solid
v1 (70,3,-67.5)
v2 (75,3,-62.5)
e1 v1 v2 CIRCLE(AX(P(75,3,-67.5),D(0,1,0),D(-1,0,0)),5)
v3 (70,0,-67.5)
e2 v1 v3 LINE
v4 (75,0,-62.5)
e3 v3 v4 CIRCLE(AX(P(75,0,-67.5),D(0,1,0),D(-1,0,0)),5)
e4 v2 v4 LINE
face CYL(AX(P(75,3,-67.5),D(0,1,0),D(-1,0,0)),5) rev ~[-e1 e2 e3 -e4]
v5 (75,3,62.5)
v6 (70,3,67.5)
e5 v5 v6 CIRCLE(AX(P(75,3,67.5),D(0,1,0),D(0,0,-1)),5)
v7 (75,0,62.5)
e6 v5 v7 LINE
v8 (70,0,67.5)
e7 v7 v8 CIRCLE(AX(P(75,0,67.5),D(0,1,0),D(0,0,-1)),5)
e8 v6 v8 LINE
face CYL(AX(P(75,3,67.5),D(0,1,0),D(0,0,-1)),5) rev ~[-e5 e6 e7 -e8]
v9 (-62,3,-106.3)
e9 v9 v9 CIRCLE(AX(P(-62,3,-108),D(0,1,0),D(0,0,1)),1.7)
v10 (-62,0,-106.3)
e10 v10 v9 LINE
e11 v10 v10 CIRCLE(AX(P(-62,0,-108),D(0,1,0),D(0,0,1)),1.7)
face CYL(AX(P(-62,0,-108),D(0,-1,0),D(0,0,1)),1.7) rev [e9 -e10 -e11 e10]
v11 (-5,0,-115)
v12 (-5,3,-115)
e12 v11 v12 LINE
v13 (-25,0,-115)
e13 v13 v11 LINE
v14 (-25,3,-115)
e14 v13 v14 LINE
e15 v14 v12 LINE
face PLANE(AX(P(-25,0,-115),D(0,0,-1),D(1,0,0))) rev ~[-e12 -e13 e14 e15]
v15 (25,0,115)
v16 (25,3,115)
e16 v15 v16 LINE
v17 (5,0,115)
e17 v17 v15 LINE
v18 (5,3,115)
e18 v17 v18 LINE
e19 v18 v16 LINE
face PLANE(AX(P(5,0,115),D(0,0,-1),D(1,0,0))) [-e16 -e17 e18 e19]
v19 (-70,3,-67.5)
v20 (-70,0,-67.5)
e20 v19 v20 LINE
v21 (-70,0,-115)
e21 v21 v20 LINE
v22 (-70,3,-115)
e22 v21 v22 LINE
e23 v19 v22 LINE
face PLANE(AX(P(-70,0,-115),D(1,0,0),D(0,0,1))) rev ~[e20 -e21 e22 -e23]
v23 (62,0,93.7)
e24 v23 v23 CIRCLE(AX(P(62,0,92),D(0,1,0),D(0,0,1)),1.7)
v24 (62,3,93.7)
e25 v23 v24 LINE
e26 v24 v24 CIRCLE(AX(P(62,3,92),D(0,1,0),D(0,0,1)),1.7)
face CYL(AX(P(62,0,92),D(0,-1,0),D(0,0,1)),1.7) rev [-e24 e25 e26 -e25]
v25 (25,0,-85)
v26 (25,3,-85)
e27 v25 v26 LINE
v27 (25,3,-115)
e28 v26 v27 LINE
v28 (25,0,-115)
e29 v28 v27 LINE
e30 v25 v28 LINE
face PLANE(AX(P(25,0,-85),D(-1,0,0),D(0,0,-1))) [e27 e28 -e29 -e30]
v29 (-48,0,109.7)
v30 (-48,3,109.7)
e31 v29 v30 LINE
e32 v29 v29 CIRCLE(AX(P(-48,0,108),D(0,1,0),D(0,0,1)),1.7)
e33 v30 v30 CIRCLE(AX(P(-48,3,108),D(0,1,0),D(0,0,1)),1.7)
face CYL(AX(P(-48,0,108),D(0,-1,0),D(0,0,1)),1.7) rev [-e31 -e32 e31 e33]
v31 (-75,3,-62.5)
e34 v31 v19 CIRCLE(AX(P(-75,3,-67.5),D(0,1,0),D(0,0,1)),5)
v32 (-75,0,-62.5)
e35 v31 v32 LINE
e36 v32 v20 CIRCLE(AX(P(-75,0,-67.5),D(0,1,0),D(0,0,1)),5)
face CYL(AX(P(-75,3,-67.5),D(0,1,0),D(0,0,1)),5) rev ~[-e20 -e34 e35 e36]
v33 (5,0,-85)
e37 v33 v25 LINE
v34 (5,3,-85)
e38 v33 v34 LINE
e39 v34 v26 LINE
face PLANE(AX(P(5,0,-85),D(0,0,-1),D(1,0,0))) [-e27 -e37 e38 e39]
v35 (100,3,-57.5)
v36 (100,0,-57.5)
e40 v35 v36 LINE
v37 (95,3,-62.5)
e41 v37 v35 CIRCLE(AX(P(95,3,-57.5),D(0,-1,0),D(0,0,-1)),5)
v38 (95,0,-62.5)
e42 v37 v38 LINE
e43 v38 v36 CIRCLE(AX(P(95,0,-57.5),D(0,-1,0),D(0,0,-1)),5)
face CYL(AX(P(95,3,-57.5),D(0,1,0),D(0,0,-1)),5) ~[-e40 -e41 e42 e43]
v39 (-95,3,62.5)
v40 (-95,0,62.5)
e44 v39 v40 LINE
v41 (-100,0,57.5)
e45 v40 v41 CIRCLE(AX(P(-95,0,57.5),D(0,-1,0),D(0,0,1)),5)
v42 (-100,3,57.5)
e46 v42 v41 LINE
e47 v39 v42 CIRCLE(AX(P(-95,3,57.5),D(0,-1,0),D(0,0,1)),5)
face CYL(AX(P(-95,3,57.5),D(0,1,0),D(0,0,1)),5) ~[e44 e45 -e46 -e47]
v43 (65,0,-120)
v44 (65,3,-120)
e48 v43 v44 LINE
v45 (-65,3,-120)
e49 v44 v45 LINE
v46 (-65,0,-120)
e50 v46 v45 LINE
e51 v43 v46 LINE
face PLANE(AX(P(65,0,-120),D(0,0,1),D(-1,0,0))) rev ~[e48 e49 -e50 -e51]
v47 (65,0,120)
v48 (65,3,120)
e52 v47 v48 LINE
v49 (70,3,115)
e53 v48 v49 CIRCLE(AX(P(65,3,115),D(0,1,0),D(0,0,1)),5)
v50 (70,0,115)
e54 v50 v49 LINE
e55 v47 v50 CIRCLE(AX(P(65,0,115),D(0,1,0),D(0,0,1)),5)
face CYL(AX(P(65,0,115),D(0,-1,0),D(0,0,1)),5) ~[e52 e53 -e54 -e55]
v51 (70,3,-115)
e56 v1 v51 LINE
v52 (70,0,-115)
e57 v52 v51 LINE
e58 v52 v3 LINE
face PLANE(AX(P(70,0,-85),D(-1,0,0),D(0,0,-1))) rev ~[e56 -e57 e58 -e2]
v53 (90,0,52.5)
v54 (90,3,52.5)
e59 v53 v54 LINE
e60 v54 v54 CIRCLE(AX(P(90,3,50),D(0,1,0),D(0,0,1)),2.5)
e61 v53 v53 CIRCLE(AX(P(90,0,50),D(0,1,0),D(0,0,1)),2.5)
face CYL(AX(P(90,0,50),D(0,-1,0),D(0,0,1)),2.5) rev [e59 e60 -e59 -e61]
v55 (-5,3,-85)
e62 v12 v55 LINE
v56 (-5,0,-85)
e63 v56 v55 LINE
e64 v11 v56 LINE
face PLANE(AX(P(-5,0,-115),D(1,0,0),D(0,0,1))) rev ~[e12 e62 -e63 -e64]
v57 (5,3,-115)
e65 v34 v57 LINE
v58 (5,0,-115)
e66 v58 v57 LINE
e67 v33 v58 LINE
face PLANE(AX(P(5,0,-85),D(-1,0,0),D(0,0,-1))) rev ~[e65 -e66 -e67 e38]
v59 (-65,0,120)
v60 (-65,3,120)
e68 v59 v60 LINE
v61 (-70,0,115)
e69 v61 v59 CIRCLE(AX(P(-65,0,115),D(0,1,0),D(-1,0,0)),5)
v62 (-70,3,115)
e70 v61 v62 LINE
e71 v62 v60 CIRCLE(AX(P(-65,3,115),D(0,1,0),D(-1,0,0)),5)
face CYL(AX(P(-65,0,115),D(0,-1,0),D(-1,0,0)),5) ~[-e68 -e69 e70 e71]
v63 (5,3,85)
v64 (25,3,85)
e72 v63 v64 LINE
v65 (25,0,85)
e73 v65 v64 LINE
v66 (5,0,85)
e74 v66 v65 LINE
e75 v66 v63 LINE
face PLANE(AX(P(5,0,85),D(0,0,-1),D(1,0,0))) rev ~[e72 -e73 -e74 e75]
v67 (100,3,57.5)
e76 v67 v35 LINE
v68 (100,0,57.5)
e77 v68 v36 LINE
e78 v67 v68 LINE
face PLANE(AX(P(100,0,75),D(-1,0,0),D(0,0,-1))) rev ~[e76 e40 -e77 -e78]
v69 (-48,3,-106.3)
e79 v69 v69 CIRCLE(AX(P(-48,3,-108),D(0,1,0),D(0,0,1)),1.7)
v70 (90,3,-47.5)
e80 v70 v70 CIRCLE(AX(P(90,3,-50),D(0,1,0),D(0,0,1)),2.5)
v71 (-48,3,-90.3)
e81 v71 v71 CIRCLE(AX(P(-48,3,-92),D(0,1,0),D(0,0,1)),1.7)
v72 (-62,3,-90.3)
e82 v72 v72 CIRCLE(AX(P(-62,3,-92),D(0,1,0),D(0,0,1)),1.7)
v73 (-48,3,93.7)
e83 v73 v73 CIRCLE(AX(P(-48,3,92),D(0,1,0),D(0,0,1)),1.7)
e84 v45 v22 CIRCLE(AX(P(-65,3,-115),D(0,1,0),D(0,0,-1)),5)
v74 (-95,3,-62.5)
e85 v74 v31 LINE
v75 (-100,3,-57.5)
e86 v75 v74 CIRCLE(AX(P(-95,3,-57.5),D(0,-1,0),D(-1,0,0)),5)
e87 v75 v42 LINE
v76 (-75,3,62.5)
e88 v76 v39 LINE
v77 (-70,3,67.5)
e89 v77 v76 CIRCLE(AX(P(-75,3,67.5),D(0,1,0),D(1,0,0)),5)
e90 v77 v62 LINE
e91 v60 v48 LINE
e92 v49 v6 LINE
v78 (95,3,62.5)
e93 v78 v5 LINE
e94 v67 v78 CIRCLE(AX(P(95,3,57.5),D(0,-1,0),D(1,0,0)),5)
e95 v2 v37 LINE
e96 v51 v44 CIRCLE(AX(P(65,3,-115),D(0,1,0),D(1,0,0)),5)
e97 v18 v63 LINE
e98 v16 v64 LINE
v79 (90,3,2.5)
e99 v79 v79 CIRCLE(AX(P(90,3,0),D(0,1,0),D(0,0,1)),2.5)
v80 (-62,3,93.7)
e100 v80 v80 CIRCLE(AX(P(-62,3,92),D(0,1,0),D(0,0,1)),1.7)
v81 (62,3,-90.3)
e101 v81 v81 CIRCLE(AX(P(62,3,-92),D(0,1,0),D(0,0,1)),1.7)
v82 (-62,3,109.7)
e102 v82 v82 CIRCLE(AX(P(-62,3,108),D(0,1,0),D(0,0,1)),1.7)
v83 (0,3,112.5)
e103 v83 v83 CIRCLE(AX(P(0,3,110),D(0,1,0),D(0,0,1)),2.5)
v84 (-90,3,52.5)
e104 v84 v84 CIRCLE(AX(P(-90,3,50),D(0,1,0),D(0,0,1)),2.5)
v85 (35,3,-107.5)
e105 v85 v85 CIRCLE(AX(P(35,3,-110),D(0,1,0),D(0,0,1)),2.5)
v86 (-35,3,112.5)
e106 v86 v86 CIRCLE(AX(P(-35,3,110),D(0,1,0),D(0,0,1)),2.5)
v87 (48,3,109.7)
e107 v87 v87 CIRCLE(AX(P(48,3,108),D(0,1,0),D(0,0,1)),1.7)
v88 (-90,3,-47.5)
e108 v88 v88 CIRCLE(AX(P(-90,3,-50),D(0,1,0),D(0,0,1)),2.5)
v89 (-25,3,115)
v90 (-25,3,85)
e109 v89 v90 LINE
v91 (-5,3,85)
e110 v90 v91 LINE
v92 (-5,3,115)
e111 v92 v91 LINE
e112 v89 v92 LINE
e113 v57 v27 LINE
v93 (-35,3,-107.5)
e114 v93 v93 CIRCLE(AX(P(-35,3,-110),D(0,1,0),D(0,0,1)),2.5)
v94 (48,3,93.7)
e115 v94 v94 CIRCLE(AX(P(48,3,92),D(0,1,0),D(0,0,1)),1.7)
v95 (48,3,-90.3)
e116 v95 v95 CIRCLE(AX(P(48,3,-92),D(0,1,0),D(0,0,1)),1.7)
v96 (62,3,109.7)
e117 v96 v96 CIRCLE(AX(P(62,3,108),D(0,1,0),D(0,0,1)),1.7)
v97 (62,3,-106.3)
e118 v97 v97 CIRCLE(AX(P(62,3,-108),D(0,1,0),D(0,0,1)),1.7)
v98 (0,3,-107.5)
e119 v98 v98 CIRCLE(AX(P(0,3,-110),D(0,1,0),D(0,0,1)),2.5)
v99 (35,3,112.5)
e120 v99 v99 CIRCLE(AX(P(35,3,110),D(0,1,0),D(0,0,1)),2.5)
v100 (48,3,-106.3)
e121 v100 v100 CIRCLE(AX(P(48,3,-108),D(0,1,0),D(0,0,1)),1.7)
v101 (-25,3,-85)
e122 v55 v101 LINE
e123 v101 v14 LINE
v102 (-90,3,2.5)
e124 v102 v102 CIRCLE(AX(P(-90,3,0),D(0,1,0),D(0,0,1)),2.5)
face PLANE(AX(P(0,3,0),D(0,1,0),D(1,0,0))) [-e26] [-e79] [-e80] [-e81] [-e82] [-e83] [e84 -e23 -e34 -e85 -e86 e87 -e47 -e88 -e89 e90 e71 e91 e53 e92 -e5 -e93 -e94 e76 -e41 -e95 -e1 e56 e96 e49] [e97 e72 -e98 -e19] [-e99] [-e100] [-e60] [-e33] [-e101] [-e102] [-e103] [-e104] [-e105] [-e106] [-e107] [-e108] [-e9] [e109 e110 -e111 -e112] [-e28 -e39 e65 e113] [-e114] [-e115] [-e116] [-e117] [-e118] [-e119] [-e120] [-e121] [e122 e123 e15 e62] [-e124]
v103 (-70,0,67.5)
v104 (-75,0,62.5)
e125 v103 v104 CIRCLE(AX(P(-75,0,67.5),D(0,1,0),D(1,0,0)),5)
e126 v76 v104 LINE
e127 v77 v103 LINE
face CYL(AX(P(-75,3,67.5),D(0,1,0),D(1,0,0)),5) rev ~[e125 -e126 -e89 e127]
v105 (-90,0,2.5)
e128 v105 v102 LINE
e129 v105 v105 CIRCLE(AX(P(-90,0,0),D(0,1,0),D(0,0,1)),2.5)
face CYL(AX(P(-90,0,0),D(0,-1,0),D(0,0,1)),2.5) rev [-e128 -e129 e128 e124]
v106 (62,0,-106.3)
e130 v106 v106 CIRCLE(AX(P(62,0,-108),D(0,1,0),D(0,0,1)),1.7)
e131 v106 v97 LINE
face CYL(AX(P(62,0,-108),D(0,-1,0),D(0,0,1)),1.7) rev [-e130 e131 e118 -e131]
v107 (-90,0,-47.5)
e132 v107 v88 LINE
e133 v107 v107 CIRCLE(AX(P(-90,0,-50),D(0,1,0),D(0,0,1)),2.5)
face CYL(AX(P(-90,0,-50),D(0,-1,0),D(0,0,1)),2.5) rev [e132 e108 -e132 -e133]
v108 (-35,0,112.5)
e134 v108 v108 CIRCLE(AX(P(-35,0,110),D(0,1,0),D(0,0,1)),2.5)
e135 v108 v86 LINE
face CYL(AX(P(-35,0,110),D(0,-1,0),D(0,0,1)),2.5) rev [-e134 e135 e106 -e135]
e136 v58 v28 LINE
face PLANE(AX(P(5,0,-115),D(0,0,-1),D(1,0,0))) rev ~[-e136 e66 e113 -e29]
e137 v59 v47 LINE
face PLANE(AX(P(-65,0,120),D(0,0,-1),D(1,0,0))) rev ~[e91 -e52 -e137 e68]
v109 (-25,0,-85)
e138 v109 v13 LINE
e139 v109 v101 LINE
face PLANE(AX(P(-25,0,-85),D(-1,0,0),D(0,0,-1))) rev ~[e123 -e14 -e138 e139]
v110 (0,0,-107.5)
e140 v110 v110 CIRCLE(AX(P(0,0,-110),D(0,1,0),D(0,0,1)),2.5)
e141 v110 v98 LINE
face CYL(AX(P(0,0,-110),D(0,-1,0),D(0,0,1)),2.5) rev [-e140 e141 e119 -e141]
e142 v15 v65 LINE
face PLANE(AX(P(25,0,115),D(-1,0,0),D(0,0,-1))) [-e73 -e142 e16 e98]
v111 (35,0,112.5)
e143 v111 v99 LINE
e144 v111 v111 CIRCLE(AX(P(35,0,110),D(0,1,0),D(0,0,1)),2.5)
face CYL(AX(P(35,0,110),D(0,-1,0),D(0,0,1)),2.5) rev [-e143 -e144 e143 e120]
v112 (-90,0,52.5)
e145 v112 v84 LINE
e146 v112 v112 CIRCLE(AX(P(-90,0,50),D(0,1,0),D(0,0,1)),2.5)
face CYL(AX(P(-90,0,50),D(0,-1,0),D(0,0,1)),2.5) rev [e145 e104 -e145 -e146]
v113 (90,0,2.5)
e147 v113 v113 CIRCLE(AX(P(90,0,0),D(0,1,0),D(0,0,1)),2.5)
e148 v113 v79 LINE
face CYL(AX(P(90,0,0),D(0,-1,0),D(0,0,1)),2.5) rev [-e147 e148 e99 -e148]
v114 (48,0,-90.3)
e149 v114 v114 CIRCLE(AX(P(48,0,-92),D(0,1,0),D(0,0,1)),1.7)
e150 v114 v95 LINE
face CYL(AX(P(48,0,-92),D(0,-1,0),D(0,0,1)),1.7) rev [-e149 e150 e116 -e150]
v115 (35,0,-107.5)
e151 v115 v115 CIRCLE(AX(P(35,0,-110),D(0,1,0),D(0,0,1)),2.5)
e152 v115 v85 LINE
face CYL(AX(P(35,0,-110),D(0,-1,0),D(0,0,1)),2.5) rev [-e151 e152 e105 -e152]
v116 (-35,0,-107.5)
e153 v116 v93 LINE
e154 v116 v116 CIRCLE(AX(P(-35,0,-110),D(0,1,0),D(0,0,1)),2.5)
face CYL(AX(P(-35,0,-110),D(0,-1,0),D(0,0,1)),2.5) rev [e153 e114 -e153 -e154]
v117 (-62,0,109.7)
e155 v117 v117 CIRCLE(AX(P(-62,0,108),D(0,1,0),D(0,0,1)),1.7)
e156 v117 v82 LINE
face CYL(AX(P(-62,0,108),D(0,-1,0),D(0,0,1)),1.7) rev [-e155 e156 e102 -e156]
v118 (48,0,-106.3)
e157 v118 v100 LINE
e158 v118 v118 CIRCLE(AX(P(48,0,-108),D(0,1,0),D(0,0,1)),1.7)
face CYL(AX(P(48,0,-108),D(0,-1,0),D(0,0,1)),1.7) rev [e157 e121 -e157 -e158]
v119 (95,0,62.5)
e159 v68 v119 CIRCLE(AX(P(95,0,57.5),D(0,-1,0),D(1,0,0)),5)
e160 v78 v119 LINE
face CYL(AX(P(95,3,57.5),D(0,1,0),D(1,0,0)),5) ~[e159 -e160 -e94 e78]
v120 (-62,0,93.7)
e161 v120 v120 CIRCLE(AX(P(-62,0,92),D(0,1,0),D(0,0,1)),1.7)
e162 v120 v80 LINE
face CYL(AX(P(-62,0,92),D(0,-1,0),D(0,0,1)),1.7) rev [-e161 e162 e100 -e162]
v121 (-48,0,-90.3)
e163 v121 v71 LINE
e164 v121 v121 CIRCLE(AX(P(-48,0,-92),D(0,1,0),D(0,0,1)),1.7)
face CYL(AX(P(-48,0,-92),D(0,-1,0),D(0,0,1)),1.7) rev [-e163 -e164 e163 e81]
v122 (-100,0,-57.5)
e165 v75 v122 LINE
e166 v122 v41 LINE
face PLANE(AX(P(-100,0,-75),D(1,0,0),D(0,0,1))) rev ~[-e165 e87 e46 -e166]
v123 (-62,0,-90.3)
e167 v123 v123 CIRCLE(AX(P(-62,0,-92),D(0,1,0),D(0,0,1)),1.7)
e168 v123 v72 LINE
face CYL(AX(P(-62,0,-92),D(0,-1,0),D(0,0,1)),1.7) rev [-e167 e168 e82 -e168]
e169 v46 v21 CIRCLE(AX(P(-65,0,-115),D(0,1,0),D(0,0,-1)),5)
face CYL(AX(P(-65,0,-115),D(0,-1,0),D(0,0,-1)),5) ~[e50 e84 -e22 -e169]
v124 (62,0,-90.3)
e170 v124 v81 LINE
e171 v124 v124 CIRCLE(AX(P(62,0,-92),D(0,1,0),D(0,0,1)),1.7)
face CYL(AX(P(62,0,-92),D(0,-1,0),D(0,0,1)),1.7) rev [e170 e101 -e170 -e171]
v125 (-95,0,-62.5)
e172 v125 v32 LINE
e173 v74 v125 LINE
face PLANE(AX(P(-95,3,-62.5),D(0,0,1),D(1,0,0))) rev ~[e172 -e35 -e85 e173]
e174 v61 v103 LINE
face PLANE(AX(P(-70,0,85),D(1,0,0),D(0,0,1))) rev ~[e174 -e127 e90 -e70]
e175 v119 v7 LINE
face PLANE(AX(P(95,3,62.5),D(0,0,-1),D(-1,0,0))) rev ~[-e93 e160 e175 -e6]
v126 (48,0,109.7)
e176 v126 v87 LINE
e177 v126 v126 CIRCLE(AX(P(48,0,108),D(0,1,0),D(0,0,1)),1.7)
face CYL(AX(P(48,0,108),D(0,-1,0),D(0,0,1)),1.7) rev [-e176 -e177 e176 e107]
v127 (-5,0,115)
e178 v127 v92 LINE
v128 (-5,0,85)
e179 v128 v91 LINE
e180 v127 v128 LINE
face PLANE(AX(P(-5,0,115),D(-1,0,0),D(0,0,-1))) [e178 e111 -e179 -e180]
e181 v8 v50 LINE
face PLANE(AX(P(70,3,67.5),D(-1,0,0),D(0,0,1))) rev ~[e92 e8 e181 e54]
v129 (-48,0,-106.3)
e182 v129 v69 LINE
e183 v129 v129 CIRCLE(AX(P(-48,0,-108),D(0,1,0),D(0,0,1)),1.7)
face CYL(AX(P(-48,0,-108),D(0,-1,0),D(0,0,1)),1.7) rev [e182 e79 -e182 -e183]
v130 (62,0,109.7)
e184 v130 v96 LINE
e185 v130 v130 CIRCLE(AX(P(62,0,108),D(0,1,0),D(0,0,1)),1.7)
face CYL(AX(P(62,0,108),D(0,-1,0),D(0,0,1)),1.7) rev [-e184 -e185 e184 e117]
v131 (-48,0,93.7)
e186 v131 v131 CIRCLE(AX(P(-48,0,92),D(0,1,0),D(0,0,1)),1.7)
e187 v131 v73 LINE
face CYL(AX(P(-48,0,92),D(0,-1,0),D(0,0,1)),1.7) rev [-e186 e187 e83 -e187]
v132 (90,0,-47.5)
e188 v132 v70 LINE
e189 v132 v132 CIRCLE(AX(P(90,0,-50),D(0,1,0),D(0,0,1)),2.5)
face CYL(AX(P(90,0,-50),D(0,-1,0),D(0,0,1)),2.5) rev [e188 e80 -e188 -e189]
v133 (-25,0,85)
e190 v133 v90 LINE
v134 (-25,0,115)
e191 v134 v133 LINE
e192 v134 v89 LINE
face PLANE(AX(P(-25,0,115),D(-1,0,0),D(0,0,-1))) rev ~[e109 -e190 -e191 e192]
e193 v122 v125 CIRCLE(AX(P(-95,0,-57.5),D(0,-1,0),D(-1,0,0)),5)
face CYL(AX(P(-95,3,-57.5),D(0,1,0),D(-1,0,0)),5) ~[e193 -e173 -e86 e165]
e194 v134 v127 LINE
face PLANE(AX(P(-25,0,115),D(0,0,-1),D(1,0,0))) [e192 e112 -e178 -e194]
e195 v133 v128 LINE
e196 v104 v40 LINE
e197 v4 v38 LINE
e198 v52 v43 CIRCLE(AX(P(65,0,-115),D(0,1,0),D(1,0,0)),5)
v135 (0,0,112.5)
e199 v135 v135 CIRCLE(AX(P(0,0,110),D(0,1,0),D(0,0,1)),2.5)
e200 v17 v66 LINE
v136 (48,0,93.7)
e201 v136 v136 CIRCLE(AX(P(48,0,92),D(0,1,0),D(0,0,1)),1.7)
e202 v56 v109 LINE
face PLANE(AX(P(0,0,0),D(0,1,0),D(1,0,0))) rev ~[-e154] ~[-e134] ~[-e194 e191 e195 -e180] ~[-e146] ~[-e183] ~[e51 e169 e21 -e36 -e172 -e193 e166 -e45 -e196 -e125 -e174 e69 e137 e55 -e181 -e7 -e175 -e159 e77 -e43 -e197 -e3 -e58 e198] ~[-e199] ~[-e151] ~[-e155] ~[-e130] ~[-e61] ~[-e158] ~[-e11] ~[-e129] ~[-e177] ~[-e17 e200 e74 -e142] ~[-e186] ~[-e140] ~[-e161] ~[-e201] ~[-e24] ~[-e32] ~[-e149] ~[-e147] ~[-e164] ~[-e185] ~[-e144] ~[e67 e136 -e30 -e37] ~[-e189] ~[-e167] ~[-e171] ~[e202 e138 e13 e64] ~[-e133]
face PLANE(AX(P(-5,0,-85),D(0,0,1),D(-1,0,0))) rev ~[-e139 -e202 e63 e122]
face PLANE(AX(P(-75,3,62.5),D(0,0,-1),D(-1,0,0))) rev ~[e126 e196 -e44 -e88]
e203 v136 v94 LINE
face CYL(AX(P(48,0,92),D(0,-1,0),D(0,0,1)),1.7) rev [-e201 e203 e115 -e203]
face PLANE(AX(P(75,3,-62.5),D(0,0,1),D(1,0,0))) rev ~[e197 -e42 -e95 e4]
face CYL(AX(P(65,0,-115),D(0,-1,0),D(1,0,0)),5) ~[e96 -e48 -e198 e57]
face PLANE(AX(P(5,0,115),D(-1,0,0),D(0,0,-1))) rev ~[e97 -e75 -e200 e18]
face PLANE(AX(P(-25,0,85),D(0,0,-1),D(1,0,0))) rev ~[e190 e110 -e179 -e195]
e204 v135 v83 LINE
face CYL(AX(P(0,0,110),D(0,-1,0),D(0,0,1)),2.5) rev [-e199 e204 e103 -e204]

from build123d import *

# Parameters (mm, degrees)
SKETCH_1_R          = 1.7
SKETCH_1_R_2        = 2.5
SKETCH_1_W          = 20
SKETCH_1_H          = 30
EXTRUDE_2_DEPTH     = 3
SKETCH_3_W          = 30
SKETCH_3_H          = 10
CUT_EXTRUDE_2_DEPTH = 3


with BuildPart() as part:
    # 草图1 → 凸台-拉伸2 (new body)
    with BuildSketch(Plane(origin=(0, 0, 0), x_dir=(1, 0, 0), z_dir=(0, 1, 0))):
        with BuildLine():
            Line((-75, 80), (-95, 80))
            ThreePointArc((-95, 80), (-98.535533906, 78.535533906), (-100, 75))
            Line((-100, 75), (-100, -75))
            ThreePointArc((-100, -75), (-98.535533906, -78.535533906), (-95, -80))
            Line((-95, -80), (-75, -80))
            ThreePointArc((-75, -80), (-71.464466094, -81.464466094), (-70, -85))
            Line((-70, -85), (-70, -115))
            ThreePointArc((-70, -115), (-68.535533906, -118.535533906), (-65, -120))
            Line((-65, -120), (65, -120))
            ThreePointArc((65, -120), (68.535533906, -118.535533906), (70, -115))
            Line((70, -115), (70, -85))
            ThreePointArc((70, -85), (71.464466094, -81.464466094), (75, -80))
            Line((75, -80), (95, -80))
            ThreePointArc((95, -80), (98.535533906, -78.535533906), (100, -75))
            Line((100, -75), (100, 75))
            ThreePointArc((100, 75), (98.535533906, 78.535533906), (95, 80))
            Line((95, 80), (75, 80))
            ThreePointArc((75, 80), (71.464466094, 81.464466094), (70, 85))
            Line((70, 85), (70, 115))
            ThreePointArc((70, 115), (68.535533906, 118.535533906), (65, 120))
            Line((65, 120), (-65, 120))
            ThreePointArc((-65, 120), (-68.535533906, 118.535533906), (-70, 115))
            Line((-70, 115), (-70, 85))
            ThreePointArc((-70, 85), (-71.464466094, 81.464466094), (-75, 80))
        make_face()
        with Locations(Location((-62, -108, 0), (0, 0, 270))):
            Circle(SKETCH_1_R, mode=Mode.SUBTRACT)
        with Locations(Location((-48, -108, 0), (0, 0, 270))):
            Circle(SKETCH_1_R, mode=Mode.SUBTRACT)
        with Locations(Location((-62, -92, 0), (0, 0, 270))):
            Circle(SKETCH_1_R, mode=Mode.SUBTRACT)
        with Locations(Location((-48, -92, 0), (0, 0, 270))):
            Circle(SKETCH_1_R, mode=Mode.SUBTRACT)
        with Locations(Location((-35, -110, 0), (0, 0, 270))):
            Circle(SKETCH_1_R_2, mode=Mode.SUBTRACT)
        with Locations((-15, -100)):
            Rectangle(SKETCH_1_W, SKETCH_1_H, mode=Mode.SUBTRACT)
        with Locations(Location((-90, -50, 0), (0, 0, 270))):
            Circle(SKETCH_1_R_2, mode=Mode.SUBTRACT)
        with Locations(Location((0, -110, 0), (0, 0, 270))):
            Circle(SKETCH_1_R_2, mode=Mode.SUBTRACT)
        with Locations((15, -100)):
            Rectangle(SKETCH_1_W, SKETCH_1_H, mode=Mode.SUBTRACT)
        with Locations(Location((35, -110, 0), (0, 0, 270))):
            Circle(SKETCH_1_R_2, mode=Mode.SUBTRACT)
        with Locations(Location((48, -108, 0), (0, 0, 270))):
            Circle(SKETCH_1_R, mode=Mode.SUBTRACT)
        with Locations(Location((62, -108, 0), (0, 0, 270))):
            Circle(SKETCH_1_R, mode=Mode.SUBTRACT)
        with Locations(Location((48, -92, 0), (0, 0, 270))):
            Circle(SKETCH_1_R, mode=Mode.SUBTRACT)
        with Locations(Location((62, -92, 0), (0, 0, 270))):
            Circle(SKETCH_1_R, mode=Mode.SUBTRACT)
        with Locations(Location((90, -50, 0), (0, 0, 270))):
            Circle(SKETCH_1_R_2, mode=Mode.SUBTRACT)
        with Locations(Location((-90, 0, 0), (0, 0, 270))):
            Circle(SKETCH_1_R_2, mode=Mode.SUBTRACT)
        with Locations(Location((-90, 50, 0), (0, 0, 270))):
            Circle(SKETCH_1_R_2, mode=Mode.SUBTRACT)
        with Locations(Location((-62, 92, 0), (0, 0, 270))):
            Circle(SKETCH_1_R, mode=Mode.SUBTRACT)
        with Locations(Location((-62, 108, 0), (0, 0, 270))):
            Circle(SKETCH_1_R, mode=Mode.SUBTRACT)
        with Locations(Location((-48, 108, 0), (0, 0, 270))):
            Circle(SKETCH_1_R, mode=Mode.SUBTRACT)
        with Locations(Location((-48, 92, 0), (0, 0, 270))):
            Circle(SKETCH_1_R, mode=Mode.SUBTRACT)
        with Locations(Location((-35, 110, 0), (0, 0, 270))):
            Circle(SKETCH_1_R_2, mode=Mode.SUBTRACT)
        Polygon((-5, 115), (-5, 100), (-5, 85), (-25, 85), (-25, 115), align=None, mode=Mode.SUBTRACT)
        with Locations(Location((90, 0, 0), (0, 0, 270))):
            Circle(SKETCH_1_R_2, mode=Mode.SUBTRACT)
        with Locations(Location((90, 50, 0), (0, 0, 270))):
            Circle(SKETCH_1_R_2, mode=Mode.SUBTRACT)
        with Locations((15, 100)):
            Rectangle(SKETCH_1_W, SKETCH_1_H, mode=Mode.SUBTRACT)
        with Locations(Location((0, 110, 0), (0, 0, 270))):
            Circle(SKETCH_1_R_2, mode=Mode.SUBTRACT)
        with Locations(Location((35, 110, 0), (0, 0, 270))):
            Circle(SKETCH_1_R_2, mode=Mode.SUBTRACT)
        with Locations(Location((48, 92, 0), (0, 0, 270))):
            Circle(SKETCH_1_R, mode=Mode.SUBTRACT)
        with Locations(Location((62, 92, 0), (0, 0, 270))):
            Circle(SKETCH_1_R, mode=Mode.SUBTRACT)
        with Locations(Location((48, 108, 0), (0, 0, 270))):
            Circle(SKETCH_1_R, mode=Mode.SUBTRACT)
        with Locations(Location((62, 108, 0), (0, 0, 270))):
            Circle(SKETCH_1_R, mode=Mode.SUBTRACT)
    extrude(amount=EXTRUDE_2_DEPTH)

    # 草图3 → 切除-拉伸2 (cut)
    with BuildSketch(Plane(origin=(0, 3, 0), x_dir=(1, 0, 0), z_dir=(0, 1, 0))):
        with Locations((85, 80)):
            Rectangle(SKETCH_3_W, SKETCH_3_H)
        with BuildLine():
            Line((95, 62.5), (100, 62.5))
            Line((100, 62.5), (100, 75))
            Line((100, 75), (70, 75))
            Line((70, 75), (70, 67.5))
            ThreePointArc((70, 67.5), (71.464466094, 63.964466094), (75, 62.5))
            Line((75, 62.5), (95, 62.5))
        make_face()
        with BuildLine():
            Line((100, 57.5), (100, 62.5))
            Line((100, 62.5), (95, 62.5))
            ThreePointArc((95, 62.5), (98.535533906, 61.035533906), (100, 57.5))
        make_face()
        with Locations((-85, 80)):
            Rectangle(SKETCH_3_W, SKETCH_3_H)
        with BuildLine():
            Line((-70, 75), (-100, 75))
            Line((-100, 75), (-100, 62.5))
            Line((-100, 62.5), (-95, 62.5))
            Line((-95, 62.5), (-75, 62.5))
            ThreePointArc((-75, 62.5), (-71.464466094, 63.964466094), (-70, 67.5))
            Line((-70, 67.5), (-70, 75))
        make_face()
        with BuildLine():
            Line((-95, 62.5), (-100, 62.5))
            Line((-100, 62.5), (-100, 57.5))
            ThreePointArc((-100, 57.5), (-98.535533906, 61.035533906), (-95, 62.5))
        make_face()
        with BuildLine():
            Line((-95, -62.5), (-100, -62.5))
            Line((-100, -62.5), (-100, -75))
            Line((-100, -75), (-70, -75))
            Line((-70, -75), (-70, -67.5))
            ThreePointArc((-70, -67.5), (-71.464466094, -63.964466094), (-75, -62.5))
            Line((-75, -62.5), (-95, -62.5))
        make_face()
        with Locations((-85, -80)):
            Rectangle(SKETCH_3_W, SKETCH_3_H)
        with BuildLine():
            Line((-100, -57.5), (-100, -62.5))
            Line((-100, -62.5), (-95, -62.5))
            ThreePointArc((-95, -62.5), (-98.535533906, -61.035533906), (-100, -57.5))
        make_face()
        with Locations((85, -80)):
            Rectangle(SKETCH_3_W, SKETCH_3_H)
        with BuildLine():
            Line((70, -75), (100, -75))
            Line((100, -75), (100, -62.5))
            Line((100, -62.5), (95, -62.5))
            Line((95, -62.5), (75, -62.5))
            ThreePointArc((75, -62.5), (71.464466094, -63.964466094), (70, -67.5))
            Line((70, -67.5), (70, -75))
        make_face()
        with BuildLine():
            Line((95, -62.5), (100, -62.5))
            Line((100, -62.5), (100, -57.5))
            ThreePointArc((100, -57.5), (98.535533906, -61.035533906), (95, -62.5))
        make_face()
    extrude(amount=-CUT_EXTRUDE_2_DEPTH, mode=Mode.SUBTRACT)


solid = part.part
